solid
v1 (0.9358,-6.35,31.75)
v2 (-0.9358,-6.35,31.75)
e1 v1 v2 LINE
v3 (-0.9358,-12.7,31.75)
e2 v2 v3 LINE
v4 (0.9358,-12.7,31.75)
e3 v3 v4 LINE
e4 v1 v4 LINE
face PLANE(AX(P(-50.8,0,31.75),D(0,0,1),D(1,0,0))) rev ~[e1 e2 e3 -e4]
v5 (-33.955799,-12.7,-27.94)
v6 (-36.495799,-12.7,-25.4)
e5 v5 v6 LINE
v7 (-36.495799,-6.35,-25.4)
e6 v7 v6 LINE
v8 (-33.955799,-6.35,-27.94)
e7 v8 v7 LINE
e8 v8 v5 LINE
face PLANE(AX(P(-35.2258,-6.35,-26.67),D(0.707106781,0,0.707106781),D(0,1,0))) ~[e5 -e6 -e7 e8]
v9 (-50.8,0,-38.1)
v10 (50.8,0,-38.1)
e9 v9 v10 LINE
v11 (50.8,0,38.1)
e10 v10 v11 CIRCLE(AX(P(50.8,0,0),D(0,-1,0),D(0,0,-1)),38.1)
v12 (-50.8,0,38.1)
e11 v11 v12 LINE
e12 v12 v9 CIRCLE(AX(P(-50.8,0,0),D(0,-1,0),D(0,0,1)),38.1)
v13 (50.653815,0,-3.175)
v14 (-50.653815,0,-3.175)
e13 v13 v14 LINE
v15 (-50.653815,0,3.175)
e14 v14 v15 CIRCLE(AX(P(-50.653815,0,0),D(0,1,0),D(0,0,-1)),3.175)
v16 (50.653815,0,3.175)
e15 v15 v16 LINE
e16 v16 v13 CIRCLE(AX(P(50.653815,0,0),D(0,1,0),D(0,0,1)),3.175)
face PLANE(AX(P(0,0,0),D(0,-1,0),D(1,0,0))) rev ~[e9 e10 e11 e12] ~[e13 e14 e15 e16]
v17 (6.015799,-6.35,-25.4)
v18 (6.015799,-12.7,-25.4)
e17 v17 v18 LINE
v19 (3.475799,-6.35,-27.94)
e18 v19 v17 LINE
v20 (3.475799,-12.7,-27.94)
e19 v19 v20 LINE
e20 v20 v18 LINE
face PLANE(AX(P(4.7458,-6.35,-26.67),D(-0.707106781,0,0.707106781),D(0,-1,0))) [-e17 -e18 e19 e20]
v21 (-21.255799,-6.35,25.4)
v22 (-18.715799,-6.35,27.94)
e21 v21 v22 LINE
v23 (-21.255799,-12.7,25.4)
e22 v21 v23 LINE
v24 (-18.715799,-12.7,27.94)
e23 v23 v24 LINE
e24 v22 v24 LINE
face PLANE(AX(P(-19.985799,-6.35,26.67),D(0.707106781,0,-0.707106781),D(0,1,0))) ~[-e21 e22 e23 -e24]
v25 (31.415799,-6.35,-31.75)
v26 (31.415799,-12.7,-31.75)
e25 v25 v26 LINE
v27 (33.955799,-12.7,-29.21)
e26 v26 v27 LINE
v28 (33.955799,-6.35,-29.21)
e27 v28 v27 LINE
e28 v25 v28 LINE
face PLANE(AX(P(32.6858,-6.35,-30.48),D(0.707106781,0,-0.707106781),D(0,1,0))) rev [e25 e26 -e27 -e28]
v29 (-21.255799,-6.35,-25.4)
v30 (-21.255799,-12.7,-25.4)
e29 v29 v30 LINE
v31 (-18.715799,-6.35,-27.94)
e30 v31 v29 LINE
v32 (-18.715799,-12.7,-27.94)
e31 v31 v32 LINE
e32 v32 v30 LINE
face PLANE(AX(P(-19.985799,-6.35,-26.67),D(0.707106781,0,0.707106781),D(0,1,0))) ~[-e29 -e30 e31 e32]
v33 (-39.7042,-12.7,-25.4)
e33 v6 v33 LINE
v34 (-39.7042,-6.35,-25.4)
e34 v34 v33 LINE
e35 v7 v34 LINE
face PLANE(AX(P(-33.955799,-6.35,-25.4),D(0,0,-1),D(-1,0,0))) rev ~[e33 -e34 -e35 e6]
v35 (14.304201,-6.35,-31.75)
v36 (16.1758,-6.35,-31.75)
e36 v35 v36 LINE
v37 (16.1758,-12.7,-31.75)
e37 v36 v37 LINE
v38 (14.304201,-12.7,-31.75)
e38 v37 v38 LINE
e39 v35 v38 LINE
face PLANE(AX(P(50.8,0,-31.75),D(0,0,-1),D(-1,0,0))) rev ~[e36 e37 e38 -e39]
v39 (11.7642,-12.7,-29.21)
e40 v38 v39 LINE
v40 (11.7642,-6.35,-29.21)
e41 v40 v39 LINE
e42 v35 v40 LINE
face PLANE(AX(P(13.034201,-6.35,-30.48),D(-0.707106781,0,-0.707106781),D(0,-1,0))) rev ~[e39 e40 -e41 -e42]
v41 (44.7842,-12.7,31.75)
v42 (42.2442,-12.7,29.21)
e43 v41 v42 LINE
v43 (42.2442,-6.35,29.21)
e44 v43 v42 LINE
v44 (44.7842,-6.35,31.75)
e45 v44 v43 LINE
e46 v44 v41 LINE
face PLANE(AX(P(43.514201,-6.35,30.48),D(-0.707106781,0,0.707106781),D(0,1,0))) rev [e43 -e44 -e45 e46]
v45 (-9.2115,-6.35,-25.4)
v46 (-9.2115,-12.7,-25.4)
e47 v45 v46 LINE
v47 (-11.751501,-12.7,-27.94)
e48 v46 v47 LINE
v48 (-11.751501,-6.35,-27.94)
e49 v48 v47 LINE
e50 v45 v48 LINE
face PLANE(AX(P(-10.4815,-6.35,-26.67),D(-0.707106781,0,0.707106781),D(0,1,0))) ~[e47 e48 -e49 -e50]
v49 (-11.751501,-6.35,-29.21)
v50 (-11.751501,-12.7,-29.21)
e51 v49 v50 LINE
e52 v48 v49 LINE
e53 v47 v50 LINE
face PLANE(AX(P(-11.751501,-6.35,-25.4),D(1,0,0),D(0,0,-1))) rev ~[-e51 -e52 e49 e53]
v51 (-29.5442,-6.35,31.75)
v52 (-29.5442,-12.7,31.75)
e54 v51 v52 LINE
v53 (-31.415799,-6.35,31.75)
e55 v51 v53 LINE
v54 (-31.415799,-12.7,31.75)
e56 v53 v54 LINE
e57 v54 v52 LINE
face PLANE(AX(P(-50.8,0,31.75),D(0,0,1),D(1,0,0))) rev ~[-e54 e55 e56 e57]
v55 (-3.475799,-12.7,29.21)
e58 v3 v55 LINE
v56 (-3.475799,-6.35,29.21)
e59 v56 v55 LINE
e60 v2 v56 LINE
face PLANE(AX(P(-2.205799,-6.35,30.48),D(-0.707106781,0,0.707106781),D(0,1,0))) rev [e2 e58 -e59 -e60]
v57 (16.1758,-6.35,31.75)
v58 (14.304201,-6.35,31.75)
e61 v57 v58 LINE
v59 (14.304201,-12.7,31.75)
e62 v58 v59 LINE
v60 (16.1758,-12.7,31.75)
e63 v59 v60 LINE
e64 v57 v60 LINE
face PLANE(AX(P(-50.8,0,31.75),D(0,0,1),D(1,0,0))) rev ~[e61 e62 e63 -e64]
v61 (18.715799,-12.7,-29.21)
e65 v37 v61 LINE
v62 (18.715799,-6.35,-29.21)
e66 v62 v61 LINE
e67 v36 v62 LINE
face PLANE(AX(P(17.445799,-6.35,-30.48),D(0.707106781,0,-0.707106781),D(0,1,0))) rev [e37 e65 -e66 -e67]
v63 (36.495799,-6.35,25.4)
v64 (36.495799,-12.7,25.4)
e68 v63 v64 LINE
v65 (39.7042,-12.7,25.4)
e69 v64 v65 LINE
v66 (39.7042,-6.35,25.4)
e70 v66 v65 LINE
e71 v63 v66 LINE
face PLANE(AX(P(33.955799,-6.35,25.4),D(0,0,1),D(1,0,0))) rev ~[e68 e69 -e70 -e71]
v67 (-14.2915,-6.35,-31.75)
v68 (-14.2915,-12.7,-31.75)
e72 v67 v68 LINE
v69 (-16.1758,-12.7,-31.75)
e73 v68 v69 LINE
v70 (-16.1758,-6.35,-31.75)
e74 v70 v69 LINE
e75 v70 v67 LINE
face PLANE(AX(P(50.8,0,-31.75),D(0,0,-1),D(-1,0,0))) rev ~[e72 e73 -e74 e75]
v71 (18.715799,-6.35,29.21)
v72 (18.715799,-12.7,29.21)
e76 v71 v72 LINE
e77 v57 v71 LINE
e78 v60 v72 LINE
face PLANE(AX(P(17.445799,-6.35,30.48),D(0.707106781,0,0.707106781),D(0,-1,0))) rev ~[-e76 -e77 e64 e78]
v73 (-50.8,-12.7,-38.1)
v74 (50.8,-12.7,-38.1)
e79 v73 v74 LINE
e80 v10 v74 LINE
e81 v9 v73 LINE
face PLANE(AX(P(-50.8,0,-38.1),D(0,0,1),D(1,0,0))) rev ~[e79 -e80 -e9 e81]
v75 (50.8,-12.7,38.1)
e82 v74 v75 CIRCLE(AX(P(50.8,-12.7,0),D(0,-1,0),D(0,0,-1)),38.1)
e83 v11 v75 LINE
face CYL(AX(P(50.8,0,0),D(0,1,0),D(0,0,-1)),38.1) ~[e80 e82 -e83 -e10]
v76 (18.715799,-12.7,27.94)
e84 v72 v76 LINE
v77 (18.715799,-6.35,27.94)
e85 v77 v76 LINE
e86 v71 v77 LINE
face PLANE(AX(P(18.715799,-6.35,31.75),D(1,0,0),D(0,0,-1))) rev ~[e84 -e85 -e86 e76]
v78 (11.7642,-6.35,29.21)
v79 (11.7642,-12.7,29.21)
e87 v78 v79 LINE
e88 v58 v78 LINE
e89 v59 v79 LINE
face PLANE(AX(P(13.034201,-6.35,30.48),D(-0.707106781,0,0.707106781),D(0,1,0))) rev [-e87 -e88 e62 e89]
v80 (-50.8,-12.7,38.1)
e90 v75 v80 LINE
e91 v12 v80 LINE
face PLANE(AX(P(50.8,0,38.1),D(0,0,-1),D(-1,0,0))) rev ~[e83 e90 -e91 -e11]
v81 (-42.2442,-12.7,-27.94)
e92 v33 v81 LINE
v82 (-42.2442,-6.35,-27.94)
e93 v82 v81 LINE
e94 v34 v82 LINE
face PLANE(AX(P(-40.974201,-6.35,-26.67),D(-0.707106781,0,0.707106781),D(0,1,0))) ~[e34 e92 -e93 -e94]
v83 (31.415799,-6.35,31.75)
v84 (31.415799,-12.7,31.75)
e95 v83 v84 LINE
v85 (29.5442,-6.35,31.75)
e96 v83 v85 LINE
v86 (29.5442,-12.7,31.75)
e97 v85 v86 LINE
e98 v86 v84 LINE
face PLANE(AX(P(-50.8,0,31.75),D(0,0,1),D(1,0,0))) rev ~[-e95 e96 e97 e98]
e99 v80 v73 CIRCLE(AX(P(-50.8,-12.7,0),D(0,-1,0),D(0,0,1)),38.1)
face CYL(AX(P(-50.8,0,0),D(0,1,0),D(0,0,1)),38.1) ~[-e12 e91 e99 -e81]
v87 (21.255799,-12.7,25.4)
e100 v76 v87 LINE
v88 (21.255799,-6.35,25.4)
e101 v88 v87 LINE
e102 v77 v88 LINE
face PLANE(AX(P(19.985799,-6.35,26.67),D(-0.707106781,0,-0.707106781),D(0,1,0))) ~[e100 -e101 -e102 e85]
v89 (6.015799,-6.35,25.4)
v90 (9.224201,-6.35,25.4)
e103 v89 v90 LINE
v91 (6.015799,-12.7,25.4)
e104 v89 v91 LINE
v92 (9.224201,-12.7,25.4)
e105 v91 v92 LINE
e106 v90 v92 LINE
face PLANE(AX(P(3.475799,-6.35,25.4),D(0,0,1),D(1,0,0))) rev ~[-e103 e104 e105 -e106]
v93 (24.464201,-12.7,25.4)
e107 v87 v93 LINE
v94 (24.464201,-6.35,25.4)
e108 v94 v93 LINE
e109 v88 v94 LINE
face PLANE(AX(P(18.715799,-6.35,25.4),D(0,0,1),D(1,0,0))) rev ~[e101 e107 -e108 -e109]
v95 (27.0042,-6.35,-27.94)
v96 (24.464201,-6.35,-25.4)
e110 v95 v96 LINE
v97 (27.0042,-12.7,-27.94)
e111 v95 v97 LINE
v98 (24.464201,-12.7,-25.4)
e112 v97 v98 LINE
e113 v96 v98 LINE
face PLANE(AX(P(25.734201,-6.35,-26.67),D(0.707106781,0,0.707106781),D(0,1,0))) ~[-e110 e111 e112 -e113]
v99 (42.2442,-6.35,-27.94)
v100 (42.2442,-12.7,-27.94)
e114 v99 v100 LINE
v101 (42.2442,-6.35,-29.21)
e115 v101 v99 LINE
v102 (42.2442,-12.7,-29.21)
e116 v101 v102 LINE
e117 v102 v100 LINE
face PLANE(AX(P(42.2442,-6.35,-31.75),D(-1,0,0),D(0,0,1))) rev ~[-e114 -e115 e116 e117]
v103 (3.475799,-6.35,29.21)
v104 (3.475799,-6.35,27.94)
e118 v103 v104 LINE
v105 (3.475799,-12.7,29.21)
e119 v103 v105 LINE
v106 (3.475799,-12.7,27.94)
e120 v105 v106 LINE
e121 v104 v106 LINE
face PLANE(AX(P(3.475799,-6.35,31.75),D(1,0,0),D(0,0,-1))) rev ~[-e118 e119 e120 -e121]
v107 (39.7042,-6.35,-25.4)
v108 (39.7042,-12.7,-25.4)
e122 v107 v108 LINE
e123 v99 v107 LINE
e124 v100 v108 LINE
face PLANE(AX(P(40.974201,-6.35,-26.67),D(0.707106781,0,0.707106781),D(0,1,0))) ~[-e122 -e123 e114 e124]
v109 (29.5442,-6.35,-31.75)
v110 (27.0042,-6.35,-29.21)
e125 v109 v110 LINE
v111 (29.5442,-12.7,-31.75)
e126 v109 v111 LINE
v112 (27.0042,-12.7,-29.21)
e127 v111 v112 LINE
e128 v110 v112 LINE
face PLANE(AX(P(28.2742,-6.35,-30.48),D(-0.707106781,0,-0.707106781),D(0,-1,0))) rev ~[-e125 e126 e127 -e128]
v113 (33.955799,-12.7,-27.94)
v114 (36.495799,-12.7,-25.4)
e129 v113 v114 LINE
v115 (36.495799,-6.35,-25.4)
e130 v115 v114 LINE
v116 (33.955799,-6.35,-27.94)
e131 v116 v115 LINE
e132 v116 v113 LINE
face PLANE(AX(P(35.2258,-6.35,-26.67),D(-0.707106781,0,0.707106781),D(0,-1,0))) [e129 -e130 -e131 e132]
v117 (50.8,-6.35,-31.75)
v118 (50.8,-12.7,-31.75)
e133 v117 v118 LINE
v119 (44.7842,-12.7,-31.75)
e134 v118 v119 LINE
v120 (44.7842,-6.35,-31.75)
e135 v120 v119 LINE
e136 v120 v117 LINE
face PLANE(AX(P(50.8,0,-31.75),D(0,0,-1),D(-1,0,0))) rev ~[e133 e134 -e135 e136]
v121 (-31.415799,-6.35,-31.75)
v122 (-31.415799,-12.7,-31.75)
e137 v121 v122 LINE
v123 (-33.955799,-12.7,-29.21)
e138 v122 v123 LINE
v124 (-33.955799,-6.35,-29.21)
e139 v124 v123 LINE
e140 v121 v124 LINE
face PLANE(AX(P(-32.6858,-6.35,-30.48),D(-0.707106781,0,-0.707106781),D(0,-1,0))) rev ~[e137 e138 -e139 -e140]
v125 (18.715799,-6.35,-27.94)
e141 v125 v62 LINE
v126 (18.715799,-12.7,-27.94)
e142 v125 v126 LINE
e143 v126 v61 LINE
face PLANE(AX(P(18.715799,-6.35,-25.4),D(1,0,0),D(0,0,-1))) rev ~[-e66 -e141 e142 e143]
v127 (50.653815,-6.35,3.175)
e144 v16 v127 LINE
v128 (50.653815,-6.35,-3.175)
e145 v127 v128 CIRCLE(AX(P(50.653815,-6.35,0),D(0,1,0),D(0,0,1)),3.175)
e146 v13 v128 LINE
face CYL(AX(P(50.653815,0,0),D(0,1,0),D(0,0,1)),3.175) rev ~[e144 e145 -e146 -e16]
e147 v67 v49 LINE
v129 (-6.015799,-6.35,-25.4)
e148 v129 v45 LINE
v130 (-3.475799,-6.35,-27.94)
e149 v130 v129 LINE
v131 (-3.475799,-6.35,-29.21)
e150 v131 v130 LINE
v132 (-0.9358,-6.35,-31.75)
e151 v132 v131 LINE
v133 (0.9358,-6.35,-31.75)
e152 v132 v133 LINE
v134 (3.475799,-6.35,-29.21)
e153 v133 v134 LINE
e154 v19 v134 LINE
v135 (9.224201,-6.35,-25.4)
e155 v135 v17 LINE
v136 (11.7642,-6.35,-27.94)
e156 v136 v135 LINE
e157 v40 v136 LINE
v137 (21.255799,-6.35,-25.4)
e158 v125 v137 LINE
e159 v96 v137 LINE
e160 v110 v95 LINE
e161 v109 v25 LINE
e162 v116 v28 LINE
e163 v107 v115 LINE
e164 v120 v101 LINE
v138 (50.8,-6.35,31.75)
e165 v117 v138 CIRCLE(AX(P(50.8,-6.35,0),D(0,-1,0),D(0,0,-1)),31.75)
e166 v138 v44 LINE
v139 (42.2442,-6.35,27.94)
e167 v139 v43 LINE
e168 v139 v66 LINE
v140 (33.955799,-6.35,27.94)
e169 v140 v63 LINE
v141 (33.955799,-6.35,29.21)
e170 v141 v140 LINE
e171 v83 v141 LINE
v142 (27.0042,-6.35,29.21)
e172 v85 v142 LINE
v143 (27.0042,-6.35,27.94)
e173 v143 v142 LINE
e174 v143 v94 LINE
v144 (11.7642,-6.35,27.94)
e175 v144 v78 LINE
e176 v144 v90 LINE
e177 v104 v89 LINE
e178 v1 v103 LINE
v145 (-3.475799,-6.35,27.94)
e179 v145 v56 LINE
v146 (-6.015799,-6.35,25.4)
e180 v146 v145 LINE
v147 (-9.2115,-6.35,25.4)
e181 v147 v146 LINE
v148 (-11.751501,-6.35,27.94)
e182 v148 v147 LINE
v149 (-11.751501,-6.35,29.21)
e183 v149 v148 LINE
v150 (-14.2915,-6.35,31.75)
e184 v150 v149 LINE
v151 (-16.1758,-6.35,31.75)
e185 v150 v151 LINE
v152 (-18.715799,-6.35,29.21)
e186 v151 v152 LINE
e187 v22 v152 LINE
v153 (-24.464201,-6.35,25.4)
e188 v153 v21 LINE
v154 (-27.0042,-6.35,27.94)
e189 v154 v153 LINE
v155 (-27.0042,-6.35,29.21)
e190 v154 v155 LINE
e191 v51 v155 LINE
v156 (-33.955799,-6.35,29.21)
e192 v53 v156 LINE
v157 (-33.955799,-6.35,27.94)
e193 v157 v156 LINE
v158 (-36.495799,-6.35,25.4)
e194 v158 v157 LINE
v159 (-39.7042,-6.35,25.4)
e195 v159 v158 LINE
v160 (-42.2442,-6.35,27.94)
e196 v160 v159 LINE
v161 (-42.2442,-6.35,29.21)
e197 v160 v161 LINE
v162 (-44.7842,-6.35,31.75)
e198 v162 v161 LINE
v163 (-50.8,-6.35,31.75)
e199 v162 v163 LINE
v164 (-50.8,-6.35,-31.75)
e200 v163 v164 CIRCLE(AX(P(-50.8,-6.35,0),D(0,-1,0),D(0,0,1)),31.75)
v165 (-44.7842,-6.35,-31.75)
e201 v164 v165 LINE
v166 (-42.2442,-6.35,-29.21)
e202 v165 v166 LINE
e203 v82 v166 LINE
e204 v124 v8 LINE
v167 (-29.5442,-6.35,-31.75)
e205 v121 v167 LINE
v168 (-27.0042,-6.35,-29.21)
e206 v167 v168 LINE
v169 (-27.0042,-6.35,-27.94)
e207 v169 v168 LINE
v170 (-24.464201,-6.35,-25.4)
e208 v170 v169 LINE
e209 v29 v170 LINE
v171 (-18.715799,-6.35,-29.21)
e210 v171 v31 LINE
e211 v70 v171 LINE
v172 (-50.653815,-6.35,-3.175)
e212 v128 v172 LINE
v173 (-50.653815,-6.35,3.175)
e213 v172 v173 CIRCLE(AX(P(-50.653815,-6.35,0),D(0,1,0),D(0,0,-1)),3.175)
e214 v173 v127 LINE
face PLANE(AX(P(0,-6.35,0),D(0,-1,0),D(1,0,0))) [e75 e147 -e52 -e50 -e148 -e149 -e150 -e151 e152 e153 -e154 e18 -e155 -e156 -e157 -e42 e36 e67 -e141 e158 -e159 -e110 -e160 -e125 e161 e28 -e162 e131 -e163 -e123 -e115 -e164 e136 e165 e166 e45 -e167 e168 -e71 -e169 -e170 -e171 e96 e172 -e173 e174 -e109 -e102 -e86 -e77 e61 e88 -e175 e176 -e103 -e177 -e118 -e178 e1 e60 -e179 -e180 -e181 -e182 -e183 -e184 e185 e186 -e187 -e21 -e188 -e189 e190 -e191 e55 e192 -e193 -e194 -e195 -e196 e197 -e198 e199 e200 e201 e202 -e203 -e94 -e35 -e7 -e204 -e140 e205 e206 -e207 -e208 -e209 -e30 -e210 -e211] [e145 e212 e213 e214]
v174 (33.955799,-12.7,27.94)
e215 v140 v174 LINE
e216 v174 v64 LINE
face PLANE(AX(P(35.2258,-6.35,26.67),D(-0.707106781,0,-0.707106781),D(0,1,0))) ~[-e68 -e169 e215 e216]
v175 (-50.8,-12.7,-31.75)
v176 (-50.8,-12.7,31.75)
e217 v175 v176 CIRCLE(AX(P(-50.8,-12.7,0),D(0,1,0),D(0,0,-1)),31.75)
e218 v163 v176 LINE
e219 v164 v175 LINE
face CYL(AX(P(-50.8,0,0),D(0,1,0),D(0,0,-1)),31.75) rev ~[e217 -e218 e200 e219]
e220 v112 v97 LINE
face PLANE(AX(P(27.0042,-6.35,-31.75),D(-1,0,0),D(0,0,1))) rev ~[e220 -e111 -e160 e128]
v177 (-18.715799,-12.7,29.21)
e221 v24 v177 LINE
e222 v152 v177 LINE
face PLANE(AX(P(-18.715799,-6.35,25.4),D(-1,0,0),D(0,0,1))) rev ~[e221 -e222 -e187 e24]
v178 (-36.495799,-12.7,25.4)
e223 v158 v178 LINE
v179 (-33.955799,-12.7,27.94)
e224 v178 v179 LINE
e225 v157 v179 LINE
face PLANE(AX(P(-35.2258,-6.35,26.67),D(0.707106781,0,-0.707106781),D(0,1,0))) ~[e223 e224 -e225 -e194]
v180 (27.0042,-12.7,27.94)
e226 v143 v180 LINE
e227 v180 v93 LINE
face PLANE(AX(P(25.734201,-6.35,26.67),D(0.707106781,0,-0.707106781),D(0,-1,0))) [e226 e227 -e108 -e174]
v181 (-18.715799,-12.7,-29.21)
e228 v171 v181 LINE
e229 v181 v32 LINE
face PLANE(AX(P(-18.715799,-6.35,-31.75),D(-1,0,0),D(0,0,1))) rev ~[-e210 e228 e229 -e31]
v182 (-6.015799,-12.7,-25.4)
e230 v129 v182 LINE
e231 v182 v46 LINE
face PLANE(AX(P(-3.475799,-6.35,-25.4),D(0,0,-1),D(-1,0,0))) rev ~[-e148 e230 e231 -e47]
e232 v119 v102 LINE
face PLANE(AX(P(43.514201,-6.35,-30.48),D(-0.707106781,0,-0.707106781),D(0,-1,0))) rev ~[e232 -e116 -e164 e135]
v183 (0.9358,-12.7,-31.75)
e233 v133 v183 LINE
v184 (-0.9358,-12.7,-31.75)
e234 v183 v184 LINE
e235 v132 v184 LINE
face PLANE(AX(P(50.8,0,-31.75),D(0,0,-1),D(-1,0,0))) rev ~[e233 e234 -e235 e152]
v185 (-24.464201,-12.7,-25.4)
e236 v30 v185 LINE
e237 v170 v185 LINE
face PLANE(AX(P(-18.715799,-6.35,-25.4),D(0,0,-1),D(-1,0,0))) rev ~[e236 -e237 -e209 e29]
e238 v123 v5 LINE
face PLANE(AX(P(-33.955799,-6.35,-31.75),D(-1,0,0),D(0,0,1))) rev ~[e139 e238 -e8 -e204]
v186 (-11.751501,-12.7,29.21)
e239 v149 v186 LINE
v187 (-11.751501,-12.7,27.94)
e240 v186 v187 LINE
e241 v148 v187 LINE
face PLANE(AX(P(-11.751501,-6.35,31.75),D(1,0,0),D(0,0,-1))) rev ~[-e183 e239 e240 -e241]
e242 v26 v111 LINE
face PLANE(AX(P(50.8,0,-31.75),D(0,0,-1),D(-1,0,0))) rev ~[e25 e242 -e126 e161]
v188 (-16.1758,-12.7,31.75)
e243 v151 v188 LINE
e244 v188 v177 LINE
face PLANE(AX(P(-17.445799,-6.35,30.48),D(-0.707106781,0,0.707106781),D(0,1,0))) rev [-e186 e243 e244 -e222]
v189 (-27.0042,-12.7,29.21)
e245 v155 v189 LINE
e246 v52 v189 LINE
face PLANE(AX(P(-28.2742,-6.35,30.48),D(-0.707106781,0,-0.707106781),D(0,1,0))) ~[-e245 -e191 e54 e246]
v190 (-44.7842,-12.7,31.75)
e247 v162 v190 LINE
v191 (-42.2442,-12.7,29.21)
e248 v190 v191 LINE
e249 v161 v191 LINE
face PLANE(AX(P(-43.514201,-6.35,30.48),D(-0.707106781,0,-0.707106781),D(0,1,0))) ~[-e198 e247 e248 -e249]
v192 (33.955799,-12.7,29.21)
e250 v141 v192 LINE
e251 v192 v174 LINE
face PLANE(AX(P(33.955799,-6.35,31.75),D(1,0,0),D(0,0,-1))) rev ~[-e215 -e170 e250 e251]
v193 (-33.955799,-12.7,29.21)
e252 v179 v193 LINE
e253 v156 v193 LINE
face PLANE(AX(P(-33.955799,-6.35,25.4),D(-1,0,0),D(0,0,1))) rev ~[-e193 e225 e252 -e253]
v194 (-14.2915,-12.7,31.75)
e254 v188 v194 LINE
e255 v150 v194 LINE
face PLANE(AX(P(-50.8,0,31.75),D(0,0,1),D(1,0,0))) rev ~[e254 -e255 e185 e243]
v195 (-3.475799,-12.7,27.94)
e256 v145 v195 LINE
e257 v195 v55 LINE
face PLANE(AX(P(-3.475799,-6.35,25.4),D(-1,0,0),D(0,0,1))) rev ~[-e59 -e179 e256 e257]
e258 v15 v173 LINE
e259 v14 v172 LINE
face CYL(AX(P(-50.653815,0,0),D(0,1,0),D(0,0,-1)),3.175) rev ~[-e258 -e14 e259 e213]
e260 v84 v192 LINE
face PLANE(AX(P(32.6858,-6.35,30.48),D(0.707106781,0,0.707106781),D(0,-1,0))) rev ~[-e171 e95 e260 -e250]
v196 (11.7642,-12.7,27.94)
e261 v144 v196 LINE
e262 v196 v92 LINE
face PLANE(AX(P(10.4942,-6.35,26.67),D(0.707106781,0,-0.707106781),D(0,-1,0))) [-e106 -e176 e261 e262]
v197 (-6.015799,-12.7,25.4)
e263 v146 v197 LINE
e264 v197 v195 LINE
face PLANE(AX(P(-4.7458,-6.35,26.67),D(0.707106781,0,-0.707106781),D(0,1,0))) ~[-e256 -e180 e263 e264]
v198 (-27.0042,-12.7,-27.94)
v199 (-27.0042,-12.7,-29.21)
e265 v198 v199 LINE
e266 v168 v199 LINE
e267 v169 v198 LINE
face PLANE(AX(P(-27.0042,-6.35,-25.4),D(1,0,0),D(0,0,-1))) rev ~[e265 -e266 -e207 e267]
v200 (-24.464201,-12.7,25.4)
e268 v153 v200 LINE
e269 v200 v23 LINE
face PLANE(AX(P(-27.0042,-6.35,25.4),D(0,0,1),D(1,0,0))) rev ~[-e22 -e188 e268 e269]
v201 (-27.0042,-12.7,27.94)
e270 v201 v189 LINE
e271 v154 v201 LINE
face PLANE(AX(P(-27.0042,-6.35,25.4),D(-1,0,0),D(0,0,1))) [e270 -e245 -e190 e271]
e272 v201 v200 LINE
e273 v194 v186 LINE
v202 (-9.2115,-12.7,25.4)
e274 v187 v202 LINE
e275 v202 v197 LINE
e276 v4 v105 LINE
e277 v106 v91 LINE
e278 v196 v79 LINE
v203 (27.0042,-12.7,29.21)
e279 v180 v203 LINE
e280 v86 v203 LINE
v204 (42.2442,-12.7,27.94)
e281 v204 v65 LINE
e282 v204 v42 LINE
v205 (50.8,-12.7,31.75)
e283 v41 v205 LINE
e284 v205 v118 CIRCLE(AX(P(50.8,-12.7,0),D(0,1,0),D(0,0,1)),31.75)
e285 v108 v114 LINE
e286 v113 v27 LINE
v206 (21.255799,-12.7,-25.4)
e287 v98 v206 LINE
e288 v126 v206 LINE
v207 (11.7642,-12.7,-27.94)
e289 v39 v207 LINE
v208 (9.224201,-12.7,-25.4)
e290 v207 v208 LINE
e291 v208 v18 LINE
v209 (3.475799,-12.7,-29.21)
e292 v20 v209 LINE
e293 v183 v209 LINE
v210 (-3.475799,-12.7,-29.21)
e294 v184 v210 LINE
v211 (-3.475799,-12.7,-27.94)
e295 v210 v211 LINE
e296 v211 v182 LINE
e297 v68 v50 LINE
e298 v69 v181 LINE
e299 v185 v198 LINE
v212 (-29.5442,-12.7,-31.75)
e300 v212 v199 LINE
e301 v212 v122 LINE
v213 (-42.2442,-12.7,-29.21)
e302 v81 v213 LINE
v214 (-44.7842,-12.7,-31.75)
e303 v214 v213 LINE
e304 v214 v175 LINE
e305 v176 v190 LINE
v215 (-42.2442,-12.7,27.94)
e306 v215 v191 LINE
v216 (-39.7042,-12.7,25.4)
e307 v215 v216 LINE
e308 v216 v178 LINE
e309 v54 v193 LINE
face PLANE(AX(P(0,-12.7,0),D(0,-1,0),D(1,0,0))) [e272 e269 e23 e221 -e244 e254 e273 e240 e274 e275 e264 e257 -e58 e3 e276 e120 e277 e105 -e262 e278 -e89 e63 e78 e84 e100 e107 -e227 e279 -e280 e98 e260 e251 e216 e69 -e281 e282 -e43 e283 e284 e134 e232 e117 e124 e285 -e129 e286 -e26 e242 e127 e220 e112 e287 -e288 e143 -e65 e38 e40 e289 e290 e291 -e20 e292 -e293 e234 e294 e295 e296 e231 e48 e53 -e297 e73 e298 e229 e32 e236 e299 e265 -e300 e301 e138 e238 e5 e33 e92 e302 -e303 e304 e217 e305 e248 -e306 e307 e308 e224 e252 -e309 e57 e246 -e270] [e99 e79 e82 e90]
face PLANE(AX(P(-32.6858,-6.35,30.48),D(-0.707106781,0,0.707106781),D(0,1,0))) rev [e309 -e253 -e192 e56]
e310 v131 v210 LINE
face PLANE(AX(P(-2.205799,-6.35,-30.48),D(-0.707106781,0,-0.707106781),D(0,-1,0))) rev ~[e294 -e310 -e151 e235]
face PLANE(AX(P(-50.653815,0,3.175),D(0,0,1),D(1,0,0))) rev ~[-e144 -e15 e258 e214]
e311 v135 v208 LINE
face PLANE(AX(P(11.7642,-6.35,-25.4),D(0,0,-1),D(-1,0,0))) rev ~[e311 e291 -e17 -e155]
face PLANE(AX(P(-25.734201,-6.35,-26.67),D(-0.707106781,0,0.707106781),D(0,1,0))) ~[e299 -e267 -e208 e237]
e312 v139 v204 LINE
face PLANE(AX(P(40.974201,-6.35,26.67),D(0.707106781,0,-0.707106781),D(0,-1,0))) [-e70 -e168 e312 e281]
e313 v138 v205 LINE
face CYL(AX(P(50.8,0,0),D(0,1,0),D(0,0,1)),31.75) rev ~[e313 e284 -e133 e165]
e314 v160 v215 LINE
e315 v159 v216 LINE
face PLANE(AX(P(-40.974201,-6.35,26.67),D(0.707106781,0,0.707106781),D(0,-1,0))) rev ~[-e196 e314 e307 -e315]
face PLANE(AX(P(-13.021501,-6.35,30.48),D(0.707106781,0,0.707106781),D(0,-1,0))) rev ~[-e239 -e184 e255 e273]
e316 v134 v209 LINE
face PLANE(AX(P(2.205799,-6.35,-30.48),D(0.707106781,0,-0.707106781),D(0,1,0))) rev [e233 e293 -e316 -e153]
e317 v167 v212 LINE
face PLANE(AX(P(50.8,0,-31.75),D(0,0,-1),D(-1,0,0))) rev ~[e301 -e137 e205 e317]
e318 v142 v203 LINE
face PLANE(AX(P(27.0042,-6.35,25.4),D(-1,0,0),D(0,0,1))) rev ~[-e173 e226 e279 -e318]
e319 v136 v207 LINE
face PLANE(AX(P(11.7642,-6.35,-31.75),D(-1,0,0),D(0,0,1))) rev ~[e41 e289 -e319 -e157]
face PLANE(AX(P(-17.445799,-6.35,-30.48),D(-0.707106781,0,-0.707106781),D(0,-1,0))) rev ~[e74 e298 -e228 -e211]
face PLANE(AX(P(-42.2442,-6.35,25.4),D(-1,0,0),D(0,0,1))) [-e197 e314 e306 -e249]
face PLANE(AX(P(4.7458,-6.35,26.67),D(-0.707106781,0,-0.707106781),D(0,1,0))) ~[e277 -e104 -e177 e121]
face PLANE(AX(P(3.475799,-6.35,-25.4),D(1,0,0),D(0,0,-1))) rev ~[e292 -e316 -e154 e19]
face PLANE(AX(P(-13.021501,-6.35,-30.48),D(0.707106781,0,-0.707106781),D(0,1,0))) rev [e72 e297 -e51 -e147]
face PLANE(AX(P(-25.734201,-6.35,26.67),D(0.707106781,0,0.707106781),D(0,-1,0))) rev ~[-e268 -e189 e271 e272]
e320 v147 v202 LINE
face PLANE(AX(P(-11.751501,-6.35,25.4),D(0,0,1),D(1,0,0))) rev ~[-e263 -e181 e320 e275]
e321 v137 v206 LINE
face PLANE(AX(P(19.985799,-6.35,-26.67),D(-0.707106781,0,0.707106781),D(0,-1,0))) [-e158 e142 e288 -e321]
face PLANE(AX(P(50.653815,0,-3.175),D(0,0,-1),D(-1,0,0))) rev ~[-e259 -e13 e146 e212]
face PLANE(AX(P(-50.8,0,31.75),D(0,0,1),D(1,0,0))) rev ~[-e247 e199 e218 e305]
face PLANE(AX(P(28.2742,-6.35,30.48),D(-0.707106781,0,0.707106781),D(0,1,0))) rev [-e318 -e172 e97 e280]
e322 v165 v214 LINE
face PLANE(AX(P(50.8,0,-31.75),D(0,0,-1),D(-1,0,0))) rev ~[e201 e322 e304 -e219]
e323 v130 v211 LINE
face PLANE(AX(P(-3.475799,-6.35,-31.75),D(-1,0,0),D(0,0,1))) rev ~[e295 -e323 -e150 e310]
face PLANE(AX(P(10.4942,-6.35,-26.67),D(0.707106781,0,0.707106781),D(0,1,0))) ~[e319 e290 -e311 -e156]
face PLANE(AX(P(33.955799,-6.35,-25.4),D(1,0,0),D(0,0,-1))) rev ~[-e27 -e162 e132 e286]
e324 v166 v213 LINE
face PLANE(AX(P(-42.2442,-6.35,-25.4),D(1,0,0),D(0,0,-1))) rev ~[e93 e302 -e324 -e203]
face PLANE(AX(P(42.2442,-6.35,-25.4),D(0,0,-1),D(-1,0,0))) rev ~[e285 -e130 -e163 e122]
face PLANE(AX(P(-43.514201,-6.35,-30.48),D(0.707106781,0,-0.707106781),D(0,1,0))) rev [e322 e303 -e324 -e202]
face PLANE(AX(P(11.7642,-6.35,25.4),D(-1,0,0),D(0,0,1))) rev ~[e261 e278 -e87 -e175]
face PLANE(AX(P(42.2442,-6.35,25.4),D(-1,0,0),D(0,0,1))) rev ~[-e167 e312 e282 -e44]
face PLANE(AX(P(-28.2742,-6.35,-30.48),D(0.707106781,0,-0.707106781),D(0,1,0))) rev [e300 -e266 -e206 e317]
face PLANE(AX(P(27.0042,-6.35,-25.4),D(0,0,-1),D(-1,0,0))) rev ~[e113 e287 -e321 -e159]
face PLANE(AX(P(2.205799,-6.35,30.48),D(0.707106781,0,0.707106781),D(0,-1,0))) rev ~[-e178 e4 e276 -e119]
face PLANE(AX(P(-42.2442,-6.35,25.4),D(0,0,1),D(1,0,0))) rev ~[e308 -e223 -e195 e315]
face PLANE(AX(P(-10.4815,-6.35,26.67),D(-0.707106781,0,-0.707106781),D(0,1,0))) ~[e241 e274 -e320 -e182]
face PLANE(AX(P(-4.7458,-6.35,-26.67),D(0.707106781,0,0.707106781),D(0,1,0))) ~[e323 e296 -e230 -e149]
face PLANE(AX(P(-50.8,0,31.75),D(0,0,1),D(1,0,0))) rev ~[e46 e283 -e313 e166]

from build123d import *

# Parameters (mm, degrees)
F1_DEPTH = 6.35
F2_DEPTH = 12.7
F4_DEPTH = 6.35
F5_SIZE  = 2.54
F3_W     = 8.288401
F3_H     = 6.35
F6_DEPTH = 6.35
F7_SIZE  = 2.54


with BuildPart() as f1:
    # F0 (on Front) → F1 (new body)
    with BuildSketch(Plane.XZ):
        with BuildLine():
            Line((50.8, 31.75), (-50.8, 31.75))
            ThreePointArc((-50.8, 31.75), (-82.55, 0), (-50.8, -31.75))
            Line((-50.8, -31.75), (50.8, -31.75))
            ThreePointArc((50.8, -31.75), (82.55, 0), (50.8, 31.75))
        make_face()
        with BuildLine():
            ThreePointArc((-50.6538152695, -3.175), (-53.8288152695, 0), (-50.6538152695, 3.175))
            Line((-50.6538152695, 3.175), (50.6538152695, 3.175))
            ThreePointArc((50.6538152695, 3.175), (53.8288152695, 0), (50.6538152695, -3.175))
            Line((50.6538152695, -3.175), (-50.6538152695, -3.175))
        make_face(mode=Mode.SUBTRACT)
    extrude(amount=F1_DEPTH)

    # F0 (on Front) → F2 (join)
    with BuildSketch(Plane.XZ):
        with BuildLine():
            Line((50.8, 38.1), (-50.8, 38.1))
            ThreePointArc((-50.8, 38.1), (-88.9, 0), (-50.8, -38.1))
            Line((-50.8, -38.1), (50.8, -38.1))
            ThreePointArc((50.8, -38.1), (88.9, 0), (50.8, 38.1))
        make_face()
        with BuildLine():
            ThreePointArc((-50.8, -31.75), (-82.55, 0), (-50.8, 31.75))
            Line((-50.8, 31.75), (50.8, 31.75))
            ThreePointArc((50.8, 31.75), (82.55, 0), (50.8, -31.75))
            Line((50.8, -31.75), (-50.8, -31.75))
        make_face(mode=Mode.SUBTRACT)
    extrude(amount=F2_DEPTH)

    # F3 (on face) → F4 (join)
    with BuildSketch(Plane.XZ.offset(6.35)):
        Polygon((-38.1, -31.75), (-33.9557995, -31.75), (-33.9557995, -25.4), (-38.1, -25.4), (-42.2442005, -25.4), (-42.2442005, -31.75), align=None)
        Polygon((-27.0042005, -31.75), (-18.7157995, -31.75), (-18.7157995, -25.4), (-22.86, -25.4), (-27.0042005, -25.4), align=None)
        Polygon((-11.7515005, -31.75), (-3.4757995, -31.75), (-3.4757995, -25.4), (-7.62, -25.4), (-11.7515005, -25.4), align=None)
        Polygon((3.4757995, -25.4), (3.4757995, -31.75), (11.7642005, -31.75), (11.7642005, -25.4), (7.62, -25.4), align=None)
        Polygon((18.7157995, -25.4), (18.7157995, -31.75), (27.0042005, -31.75), (27.0042005, -25.4), (22.86, -25.4), align=None)
        Polygon((33.9557995, -25.4), (33.9557995, -31.75), (38.1, -31.75), (42.2442005, -31.75), (42.2442005, -25.4), (38.1, -25.4), align=None)
    extrude(amount=F4_DEPTH)

    # F5
    f5_edges = [f1.edges().sort_by_distance(p)[0] for p in [
        (-42.244201, -9.525, -25.4),
        (-33.9558, -9.525, -25.4),
        (-27.004201, -9.525, -25.4),
        (-18.7158, -9.525, -25.4),
        (-11.751501, -9.525, -25.4),
        (-3.4758, -9.525, -25.4),
        (3.475799, -9.525, -25.4),
        (11.7642, -9.525, -25.4),
        (18.715799, -9.525, -25.4),
        (27.0042, -9.525, -25.4),
        (33.9558, -9.525, -25.4),
        (42.244201, -9.525, -25.4),
        (33.9558, -9.525, -31.75),
        (42.244201, -9.525, -31.75),
        (27.0042, -9.525, -31.75),
        (11.7642, -9.525, -31.75),
        (18.715799, -9.525, -31.75),
        (3.475799, -9.525, -31.75),
        (-11.751501, -9.525, -31.75),
        (-27.004201, -9.525, -31.75),
        (-3.4758, -9.525, -31.75),
        (-18.7158, -9.525, -31.75),
        (-33.9558, -9.525, -31.75),
        (-42.244201, -9.525, -31.75),
    ]]
    chamfer(f5_edges, length=F5_SIZE)

    # F3 (on face) → F6 (join)
    with BuildSketch(Plane.XZ.offset(6.35)):
        with Locations((-38.1, 28.575)):
            Rectangle(F3_W, F3_H)
        with Locations((-22.86, 28.575)):
            Rectangle(F3_W, F3_H)
        Polygon((-3.4757995, 31.75), (-11.7515005, 31.75), (-11.7515005, 25.4), (-7.62, 25.4), (-3.4757995, 25.4), align=None)
        Polygon((11.7642005, 25.4), (11.7642005, 31.75), (3.4757995, 31.75), (3.4757995, 25.4), (7.62, 25.4), align=None)
        Polygon((27.0042005, 25.4), (27.0042005, 31.75), (18.7157995, 31.75), (18.7157995, 25.4), (22.86, 25.4), align=None)
        Polygon((42.2442005, 25.4), (42.2442005, 31.75), (33.9557995, 31.75), (33.9557995, 25.4), (38.1, 25.4), align=None)
    extrude(amount=F6_DEPTH)

    # F7
    f7_edges = [f1.edges().sort_by_distance(p)[0] for p in [
        (-42.244201, -9.525, 31.75),
        (-27.004201, -9.525, 31.75),
        (-42.244201, -9.525, 25.4),
        (-33.9558, -9.525, 25.4),
        (-33.955799, -9.525, 31.75),
        (-27.004201, -9.525, 25.4),
        (-18.7158, -9.525, 25.4),
        (-18.7158, -9.525, 31.75),
        (-11.751501, -9.525, 25.4),
        (-11.7515, -9.525, 31.75),
        (-3.4758, -9.525, 25.4),
        (3.475799, -9.525, 25.4),
        (11.7642, -9.525, 25.4),
        (18.715799, -9.525, 25.4),
        (27.0042, -9.525, 25.4),
        (33.9558, -9.525, 25.4),
        (42.244201, -9.525, 25.4),
        (42.244201, -9.525, 31.75),
        (27.0042, -9.525, 31.75),
        (11.764201, -9.525, 31.75),
        (18.7158, -9.525, 31.75),
        (33.9558, -9.525, 31.75),
        (-3.4758, -9.525, 31.75),
        (3.475799, -9.525, 31.75),
    ]]
    chamfer(f7_edges, length=F7_SIZE)


solid = f1.part
